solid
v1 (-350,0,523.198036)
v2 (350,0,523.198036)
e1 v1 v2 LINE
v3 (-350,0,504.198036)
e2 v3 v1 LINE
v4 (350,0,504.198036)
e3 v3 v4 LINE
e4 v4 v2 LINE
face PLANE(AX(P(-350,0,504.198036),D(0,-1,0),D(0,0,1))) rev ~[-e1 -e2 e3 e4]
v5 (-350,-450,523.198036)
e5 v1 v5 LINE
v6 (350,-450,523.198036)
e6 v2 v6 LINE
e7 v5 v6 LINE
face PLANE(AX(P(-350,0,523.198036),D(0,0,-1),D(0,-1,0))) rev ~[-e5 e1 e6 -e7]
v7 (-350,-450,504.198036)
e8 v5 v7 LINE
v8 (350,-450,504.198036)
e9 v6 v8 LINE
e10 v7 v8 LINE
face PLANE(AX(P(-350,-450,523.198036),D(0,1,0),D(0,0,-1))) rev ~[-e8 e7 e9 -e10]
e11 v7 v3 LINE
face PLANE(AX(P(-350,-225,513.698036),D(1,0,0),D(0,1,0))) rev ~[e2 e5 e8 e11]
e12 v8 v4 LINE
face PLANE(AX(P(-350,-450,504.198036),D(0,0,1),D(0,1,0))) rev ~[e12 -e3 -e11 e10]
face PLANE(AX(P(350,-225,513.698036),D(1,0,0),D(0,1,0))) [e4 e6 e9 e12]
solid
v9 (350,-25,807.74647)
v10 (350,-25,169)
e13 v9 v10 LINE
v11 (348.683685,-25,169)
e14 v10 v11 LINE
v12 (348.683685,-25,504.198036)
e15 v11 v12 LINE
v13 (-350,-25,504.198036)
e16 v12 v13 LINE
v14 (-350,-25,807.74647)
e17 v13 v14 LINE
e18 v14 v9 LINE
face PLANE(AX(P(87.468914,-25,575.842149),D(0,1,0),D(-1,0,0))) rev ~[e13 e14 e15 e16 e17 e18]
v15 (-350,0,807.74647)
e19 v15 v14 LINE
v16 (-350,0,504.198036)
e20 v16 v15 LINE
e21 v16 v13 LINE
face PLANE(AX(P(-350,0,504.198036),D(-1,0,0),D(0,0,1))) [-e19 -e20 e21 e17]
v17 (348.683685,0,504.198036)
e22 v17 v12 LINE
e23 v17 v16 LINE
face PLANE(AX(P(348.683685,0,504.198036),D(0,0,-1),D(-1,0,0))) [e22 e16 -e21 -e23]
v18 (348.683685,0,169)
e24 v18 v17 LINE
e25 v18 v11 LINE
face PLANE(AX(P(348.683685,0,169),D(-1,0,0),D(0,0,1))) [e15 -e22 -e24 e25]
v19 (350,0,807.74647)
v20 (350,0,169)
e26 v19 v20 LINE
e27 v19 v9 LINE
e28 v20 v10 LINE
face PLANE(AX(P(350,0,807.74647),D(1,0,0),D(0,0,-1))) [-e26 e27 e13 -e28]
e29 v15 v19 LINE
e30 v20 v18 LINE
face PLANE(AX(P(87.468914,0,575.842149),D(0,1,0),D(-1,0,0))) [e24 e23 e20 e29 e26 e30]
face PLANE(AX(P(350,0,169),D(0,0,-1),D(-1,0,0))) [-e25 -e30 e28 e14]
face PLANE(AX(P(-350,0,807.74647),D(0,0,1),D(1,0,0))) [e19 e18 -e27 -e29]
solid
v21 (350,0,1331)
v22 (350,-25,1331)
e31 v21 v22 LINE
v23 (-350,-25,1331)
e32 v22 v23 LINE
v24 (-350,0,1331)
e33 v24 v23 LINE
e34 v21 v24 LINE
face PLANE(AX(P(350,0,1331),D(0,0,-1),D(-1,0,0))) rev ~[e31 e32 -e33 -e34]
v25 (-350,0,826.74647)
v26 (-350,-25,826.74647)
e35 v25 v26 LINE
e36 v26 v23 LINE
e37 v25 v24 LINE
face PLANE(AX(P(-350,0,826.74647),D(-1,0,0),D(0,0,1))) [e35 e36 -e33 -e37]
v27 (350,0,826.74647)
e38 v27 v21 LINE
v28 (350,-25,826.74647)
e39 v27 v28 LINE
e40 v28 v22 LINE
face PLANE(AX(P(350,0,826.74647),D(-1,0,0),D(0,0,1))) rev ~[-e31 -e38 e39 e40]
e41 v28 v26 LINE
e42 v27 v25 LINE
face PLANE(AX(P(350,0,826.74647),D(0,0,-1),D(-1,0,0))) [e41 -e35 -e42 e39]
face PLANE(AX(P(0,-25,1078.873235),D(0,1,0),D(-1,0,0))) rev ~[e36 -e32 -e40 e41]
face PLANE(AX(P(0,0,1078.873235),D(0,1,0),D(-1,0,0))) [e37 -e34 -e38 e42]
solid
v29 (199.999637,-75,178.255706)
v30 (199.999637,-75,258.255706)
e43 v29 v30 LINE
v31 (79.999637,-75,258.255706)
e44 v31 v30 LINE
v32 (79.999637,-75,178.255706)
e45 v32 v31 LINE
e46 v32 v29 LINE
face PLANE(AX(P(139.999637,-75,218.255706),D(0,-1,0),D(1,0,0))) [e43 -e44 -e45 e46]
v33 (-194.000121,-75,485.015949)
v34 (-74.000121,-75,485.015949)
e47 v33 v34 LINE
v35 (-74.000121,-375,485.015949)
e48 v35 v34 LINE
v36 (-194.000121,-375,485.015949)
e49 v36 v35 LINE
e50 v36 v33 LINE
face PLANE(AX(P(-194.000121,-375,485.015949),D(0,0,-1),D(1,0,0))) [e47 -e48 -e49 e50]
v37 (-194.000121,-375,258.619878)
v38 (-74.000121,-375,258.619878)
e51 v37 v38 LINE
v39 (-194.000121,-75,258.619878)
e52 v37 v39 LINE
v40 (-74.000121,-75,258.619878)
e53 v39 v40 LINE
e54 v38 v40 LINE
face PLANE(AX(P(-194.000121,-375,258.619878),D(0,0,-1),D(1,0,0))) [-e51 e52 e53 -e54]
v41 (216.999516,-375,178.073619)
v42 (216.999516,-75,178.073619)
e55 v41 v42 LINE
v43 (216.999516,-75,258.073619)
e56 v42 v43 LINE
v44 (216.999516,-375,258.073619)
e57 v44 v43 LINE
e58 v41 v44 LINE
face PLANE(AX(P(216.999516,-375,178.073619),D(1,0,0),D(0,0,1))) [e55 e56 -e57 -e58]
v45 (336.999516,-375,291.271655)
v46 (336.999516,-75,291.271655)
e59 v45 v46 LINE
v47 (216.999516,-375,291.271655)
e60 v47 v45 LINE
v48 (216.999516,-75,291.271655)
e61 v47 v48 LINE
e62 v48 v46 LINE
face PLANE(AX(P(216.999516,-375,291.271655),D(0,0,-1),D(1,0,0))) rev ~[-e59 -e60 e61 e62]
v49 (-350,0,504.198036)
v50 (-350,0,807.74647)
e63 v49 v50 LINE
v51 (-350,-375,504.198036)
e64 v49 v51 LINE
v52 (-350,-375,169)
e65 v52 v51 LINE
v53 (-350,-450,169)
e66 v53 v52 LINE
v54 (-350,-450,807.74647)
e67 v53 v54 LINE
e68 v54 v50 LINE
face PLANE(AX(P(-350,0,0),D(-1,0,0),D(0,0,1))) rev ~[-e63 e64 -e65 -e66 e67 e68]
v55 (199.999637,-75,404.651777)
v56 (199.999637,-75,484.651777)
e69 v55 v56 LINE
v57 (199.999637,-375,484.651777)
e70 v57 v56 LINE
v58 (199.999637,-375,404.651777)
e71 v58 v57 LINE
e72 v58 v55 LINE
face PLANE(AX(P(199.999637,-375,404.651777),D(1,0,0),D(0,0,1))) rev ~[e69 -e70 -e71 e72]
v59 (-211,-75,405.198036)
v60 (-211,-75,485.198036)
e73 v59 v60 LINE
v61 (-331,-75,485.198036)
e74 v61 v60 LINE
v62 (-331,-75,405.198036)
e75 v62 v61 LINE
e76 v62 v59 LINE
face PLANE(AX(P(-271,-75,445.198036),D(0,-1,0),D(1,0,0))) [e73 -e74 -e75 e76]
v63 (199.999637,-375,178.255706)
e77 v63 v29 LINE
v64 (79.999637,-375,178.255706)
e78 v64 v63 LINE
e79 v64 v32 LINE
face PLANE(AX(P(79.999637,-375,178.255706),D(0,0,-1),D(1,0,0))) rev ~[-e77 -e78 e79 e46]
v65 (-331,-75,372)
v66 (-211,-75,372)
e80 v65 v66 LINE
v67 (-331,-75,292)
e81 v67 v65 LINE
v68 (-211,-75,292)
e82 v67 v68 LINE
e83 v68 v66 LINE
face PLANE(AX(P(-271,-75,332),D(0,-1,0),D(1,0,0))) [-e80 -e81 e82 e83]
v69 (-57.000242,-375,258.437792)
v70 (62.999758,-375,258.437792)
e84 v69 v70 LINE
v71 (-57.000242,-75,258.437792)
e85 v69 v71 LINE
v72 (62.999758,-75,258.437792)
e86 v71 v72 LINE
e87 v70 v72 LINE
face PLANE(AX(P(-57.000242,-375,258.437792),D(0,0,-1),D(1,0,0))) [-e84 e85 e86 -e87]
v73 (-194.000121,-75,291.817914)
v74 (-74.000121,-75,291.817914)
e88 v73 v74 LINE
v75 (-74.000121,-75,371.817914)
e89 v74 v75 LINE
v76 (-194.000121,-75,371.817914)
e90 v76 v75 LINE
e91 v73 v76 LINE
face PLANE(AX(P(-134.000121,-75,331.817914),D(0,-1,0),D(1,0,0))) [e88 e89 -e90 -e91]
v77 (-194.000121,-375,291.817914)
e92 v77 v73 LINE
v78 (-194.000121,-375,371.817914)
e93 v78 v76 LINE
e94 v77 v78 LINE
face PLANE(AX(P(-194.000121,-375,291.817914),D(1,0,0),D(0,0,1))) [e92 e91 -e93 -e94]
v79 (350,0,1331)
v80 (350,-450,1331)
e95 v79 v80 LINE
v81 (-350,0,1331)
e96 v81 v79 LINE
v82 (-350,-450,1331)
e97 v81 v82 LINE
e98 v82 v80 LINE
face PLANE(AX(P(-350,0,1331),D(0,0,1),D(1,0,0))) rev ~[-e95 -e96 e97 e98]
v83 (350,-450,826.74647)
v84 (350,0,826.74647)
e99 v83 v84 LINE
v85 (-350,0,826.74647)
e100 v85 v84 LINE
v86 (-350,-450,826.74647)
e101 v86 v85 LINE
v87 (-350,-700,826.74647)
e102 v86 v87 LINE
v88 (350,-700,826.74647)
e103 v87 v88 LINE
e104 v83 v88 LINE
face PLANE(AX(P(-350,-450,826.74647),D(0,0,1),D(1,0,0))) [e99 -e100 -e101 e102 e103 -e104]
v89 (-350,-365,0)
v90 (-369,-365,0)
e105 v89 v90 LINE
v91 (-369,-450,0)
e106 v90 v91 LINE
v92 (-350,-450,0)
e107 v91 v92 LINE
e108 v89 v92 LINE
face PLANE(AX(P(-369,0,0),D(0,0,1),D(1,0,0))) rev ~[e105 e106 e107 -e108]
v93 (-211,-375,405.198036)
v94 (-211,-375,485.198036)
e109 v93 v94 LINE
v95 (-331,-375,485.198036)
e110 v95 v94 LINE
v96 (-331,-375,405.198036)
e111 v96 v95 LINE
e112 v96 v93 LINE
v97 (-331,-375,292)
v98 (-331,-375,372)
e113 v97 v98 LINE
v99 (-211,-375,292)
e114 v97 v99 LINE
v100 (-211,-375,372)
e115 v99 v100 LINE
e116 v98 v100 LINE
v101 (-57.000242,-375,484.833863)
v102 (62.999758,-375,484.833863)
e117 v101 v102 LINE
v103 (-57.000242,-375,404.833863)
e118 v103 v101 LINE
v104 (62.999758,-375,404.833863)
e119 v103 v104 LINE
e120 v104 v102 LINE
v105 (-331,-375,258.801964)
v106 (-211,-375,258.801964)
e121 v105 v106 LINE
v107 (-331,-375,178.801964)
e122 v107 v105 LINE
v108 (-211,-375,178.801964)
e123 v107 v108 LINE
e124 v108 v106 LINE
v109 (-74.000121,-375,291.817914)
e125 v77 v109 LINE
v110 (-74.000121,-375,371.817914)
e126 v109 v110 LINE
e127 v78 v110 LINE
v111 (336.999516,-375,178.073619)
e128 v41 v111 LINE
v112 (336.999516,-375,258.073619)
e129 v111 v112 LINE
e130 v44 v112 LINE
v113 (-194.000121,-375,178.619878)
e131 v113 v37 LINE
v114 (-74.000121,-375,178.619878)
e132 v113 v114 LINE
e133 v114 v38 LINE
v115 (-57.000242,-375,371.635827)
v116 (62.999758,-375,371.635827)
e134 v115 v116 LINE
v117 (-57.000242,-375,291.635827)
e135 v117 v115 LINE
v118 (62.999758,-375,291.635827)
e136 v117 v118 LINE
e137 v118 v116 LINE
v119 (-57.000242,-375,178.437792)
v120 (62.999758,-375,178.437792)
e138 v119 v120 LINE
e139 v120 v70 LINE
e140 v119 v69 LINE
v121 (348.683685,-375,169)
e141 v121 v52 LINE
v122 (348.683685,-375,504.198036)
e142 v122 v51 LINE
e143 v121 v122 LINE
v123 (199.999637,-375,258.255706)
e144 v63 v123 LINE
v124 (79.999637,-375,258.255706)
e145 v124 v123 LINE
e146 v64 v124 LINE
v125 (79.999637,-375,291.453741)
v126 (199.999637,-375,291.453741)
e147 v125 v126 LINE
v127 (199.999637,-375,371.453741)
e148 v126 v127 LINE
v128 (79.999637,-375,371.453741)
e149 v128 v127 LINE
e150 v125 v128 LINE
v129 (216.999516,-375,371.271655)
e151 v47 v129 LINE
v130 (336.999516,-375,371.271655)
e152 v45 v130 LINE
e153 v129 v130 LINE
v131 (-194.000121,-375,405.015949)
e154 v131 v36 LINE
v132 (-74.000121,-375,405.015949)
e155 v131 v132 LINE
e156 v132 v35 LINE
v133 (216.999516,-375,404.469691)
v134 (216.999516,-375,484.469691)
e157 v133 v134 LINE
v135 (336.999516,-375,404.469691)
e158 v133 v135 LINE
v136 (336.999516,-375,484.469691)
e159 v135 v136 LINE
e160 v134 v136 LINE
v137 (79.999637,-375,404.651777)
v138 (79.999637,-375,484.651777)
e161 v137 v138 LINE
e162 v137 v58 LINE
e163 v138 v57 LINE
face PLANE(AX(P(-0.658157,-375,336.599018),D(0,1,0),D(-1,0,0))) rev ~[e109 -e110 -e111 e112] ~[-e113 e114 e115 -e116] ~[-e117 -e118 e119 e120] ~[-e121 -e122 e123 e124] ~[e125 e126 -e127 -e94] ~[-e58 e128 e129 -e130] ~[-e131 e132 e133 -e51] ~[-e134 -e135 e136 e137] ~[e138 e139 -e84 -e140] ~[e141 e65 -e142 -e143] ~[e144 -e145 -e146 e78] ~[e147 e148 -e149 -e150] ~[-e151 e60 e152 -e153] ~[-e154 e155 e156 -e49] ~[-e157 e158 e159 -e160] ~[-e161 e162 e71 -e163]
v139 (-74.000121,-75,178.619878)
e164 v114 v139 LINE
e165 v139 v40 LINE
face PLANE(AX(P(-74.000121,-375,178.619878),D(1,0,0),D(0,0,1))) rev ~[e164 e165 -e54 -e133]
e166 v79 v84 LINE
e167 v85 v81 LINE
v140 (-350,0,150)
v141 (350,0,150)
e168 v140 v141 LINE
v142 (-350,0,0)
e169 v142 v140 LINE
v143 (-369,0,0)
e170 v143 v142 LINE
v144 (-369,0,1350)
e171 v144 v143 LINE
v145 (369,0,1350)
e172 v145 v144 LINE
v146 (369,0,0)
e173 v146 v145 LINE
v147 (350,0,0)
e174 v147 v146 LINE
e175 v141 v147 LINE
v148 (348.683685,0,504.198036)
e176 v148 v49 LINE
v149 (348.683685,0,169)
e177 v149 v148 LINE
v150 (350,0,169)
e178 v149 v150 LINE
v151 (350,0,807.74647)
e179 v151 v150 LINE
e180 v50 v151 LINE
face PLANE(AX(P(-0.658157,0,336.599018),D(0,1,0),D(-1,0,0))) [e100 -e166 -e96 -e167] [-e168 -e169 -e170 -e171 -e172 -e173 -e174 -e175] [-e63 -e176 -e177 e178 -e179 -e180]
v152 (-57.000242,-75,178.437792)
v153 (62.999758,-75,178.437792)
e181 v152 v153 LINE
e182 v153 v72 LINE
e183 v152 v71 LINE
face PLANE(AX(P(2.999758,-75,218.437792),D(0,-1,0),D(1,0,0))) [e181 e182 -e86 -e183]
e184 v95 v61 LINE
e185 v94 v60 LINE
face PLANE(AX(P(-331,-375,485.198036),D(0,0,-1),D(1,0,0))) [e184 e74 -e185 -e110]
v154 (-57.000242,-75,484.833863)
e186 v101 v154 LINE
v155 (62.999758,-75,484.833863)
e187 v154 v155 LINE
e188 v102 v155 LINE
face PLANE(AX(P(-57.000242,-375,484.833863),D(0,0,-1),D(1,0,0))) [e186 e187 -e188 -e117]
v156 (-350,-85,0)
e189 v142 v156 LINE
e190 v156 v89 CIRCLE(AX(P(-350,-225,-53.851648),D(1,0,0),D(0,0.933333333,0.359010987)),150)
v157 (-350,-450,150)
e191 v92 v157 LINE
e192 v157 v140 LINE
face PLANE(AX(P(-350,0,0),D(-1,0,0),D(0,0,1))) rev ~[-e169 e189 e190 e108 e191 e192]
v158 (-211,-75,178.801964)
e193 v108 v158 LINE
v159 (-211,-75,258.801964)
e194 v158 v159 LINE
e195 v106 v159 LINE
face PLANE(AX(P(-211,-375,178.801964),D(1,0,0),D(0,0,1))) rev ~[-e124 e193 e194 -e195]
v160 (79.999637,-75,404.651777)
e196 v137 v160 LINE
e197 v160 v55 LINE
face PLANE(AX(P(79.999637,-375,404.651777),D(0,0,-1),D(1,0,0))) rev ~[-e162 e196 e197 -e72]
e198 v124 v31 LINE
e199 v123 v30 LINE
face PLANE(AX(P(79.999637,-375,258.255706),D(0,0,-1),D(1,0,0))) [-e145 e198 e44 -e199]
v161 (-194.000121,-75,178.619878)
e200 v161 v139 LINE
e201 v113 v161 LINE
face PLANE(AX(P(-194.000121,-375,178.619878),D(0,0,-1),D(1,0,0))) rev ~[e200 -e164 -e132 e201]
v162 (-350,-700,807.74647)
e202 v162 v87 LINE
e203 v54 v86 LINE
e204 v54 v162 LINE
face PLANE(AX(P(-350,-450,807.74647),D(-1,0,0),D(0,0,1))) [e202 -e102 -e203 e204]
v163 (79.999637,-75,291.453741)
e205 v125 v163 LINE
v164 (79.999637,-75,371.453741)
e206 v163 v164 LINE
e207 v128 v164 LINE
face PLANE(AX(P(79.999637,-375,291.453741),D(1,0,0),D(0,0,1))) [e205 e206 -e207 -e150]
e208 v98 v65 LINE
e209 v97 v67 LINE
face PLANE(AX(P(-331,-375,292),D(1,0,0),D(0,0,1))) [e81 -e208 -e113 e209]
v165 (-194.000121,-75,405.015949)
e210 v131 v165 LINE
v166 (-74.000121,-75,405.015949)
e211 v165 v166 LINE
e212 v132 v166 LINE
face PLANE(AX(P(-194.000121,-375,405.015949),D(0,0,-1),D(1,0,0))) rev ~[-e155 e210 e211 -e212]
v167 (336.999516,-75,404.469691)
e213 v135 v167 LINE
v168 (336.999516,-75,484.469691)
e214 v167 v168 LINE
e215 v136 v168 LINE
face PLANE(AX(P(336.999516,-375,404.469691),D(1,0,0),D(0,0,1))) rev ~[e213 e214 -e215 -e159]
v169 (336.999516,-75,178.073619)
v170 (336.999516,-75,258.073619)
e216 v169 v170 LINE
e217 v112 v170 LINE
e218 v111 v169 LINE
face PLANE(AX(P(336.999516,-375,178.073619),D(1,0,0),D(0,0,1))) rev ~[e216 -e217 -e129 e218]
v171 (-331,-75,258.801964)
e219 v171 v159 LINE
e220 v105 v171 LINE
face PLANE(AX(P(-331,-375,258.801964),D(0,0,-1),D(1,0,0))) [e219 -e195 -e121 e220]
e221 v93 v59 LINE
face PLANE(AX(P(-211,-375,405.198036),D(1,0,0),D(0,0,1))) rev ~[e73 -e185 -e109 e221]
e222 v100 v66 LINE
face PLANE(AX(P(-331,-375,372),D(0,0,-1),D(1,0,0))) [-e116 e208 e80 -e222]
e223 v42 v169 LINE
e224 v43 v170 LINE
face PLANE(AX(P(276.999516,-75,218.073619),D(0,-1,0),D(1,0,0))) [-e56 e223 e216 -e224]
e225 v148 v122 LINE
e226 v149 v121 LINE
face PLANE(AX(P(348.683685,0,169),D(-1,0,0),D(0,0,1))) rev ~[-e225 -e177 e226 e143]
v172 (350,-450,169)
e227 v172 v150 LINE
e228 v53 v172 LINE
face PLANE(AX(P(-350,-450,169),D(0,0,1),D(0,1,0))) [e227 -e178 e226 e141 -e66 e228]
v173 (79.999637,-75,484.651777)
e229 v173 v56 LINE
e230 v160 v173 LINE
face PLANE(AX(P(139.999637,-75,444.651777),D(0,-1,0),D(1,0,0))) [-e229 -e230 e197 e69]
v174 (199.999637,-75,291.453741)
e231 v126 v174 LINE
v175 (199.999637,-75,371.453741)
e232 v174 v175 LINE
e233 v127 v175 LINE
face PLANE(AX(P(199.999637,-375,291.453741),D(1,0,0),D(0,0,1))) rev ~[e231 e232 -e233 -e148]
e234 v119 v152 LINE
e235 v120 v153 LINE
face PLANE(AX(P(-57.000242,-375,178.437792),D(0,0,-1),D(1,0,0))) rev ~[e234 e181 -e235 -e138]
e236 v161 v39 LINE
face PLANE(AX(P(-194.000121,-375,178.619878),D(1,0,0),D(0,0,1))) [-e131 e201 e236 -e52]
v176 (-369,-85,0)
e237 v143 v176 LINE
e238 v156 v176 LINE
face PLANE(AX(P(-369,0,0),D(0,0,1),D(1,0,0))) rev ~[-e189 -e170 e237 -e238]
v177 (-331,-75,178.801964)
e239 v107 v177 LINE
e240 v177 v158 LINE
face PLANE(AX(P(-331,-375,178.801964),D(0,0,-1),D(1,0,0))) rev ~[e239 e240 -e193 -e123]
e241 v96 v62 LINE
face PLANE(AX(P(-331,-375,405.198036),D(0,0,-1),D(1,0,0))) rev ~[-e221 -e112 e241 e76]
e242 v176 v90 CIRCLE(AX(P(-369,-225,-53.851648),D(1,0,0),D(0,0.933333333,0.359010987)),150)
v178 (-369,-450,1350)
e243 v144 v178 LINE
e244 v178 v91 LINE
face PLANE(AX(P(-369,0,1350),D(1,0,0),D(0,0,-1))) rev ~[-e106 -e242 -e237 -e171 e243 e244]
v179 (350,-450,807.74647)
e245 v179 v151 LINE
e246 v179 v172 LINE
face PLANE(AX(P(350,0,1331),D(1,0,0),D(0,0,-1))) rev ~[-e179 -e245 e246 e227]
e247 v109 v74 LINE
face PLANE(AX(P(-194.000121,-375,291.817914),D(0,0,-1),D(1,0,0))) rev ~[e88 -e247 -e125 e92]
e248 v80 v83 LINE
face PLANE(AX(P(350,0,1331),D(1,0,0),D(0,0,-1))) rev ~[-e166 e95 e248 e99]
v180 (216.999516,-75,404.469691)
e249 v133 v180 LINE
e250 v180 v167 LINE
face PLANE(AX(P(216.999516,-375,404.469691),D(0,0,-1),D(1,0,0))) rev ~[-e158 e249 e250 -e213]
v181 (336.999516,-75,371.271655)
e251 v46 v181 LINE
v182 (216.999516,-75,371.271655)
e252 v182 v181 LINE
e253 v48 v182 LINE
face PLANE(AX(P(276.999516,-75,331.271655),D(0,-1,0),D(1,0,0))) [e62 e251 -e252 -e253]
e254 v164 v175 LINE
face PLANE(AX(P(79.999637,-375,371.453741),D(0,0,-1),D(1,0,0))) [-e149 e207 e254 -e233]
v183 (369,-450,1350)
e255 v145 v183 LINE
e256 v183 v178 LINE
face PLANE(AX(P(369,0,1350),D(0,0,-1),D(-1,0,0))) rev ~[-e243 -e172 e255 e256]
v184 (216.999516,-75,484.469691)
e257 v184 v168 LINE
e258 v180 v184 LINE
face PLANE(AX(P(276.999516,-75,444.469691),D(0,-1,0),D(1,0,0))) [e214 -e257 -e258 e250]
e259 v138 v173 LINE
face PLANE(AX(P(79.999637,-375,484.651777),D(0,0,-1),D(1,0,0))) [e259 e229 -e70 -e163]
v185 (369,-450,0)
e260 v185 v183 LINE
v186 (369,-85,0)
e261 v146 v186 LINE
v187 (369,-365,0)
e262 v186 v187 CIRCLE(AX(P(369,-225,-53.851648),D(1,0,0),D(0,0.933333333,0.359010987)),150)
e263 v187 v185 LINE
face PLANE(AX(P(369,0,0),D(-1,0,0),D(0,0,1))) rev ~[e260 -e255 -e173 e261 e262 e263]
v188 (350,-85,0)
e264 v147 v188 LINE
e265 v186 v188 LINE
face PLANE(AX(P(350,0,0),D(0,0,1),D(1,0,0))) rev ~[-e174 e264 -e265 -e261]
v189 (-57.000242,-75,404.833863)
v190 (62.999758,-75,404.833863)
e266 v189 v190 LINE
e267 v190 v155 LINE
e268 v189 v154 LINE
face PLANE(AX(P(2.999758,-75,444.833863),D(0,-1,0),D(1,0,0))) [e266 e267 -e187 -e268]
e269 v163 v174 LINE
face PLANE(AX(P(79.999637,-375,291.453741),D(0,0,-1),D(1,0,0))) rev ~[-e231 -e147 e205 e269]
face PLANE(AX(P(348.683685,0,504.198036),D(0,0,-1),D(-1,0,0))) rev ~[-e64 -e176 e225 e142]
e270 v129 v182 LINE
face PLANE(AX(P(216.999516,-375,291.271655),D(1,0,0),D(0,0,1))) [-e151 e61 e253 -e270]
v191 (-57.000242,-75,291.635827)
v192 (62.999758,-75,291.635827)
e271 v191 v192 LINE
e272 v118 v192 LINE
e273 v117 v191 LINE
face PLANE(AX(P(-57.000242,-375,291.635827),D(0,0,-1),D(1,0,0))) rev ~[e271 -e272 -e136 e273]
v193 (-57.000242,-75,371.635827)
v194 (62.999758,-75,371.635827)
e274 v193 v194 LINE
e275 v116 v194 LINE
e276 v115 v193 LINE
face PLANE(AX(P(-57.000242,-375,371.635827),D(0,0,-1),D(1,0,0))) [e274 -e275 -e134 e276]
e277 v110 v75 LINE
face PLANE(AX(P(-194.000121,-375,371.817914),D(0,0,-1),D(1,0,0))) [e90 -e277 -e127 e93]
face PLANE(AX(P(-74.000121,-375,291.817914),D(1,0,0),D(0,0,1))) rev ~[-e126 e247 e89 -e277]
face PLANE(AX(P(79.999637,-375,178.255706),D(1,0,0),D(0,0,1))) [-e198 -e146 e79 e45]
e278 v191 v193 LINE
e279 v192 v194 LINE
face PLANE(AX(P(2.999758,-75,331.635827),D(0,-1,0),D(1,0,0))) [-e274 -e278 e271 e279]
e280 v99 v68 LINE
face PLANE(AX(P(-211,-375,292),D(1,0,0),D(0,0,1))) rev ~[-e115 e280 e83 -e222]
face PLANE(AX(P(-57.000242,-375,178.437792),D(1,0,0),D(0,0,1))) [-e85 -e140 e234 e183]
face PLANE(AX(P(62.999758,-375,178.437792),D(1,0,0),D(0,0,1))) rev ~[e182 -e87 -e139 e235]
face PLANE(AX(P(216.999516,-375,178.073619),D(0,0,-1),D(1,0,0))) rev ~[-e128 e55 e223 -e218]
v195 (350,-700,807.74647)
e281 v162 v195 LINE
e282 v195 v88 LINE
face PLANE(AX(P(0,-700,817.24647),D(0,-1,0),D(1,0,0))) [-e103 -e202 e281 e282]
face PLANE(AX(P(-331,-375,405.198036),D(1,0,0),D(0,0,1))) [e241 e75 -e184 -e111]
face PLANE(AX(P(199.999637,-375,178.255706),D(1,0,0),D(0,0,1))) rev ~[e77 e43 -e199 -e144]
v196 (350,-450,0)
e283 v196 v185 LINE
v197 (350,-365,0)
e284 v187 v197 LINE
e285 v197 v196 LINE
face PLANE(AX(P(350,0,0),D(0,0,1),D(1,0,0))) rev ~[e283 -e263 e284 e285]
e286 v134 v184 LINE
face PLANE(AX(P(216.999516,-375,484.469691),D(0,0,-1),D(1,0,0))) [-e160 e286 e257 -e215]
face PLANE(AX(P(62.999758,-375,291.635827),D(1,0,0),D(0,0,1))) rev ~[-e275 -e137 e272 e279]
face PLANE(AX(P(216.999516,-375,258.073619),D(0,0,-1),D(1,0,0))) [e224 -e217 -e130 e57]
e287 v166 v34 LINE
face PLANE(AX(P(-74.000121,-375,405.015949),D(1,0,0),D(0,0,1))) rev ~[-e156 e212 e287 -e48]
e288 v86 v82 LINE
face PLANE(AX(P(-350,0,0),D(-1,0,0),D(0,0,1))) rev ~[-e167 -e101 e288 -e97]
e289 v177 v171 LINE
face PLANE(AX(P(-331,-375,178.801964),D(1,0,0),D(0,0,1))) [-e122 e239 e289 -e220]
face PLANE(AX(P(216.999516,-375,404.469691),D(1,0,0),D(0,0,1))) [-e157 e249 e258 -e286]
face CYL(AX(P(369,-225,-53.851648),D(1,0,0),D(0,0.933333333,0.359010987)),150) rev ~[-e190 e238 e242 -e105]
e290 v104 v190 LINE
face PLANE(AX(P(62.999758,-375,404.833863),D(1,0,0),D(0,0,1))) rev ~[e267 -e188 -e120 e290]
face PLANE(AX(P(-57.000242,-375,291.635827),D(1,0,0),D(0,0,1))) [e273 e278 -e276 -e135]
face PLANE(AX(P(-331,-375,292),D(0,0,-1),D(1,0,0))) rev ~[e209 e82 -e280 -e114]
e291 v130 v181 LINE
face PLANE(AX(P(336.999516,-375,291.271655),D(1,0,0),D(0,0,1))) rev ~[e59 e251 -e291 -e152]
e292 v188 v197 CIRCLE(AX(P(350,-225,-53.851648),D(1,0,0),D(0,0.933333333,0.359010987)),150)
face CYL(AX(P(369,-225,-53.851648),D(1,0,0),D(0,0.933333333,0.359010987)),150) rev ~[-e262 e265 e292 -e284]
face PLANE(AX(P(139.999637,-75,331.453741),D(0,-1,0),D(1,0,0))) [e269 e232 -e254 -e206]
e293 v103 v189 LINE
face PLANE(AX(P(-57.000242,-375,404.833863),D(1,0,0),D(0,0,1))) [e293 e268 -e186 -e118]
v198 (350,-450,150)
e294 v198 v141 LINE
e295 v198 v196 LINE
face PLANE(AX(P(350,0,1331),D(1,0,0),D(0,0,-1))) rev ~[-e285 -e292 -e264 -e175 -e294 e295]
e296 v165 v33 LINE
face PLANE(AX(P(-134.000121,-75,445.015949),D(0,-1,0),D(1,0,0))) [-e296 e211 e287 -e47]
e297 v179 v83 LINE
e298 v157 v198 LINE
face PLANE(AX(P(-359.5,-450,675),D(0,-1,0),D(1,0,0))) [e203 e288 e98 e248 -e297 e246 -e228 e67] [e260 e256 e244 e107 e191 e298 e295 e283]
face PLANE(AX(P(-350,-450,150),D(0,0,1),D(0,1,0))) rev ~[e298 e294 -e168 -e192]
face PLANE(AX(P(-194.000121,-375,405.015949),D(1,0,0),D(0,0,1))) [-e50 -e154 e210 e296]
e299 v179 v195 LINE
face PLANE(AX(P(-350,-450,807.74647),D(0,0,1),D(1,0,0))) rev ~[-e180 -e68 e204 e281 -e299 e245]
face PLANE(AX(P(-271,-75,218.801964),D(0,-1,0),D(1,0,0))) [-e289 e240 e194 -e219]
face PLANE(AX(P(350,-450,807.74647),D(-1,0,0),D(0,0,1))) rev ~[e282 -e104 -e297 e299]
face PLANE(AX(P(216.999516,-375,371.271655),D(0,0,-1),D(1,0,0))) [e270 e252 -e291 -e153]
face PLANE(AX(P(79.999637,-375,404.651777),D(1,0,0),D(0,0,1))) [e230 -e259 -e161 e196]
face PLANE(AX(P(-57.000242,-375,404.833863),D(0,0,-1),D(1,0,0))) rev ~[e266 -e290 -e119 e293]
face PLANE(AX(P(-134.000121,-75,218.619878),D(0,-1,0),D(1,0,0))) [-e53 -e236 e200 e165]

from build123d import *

# Parameters (mm, degrees)
F0_W      = 700
F0_H      = 19
F1_DEPTH  = 450
F2_W      = 450
F2_H      = 19
F3_DEPTH  = 700
F4_W      = 698.6836850643
F4_H      = 335.1980355978
F5_DEPTH  = 375
F6_W      = 120
F6_H      = 80
F7_DEPTH  = 300
F9_DEPTH  = 738.001
F10_W     = 700
F10_H     = 504.2535300255
F11_DEPTH = 25
F13_DEPTH = 25
F15_DEPTH = 700
F16_W     = 700
F16_H     = 19
F17_DEPTH = 250


with BuildPart() as f1:
    # F0 (on Front) → F1 (new body)
    with BuildSketch(Plane.XZ):
        Polygon((-369, 1350), (-369, 0), (-350, 0), (-350, 1331), (-350, 1350), align=None)
        with Locations((0, 1340.5)):
            Rectangle(F0_W, F0_H)
        Polygon((350, 1350), (350, 1331), (350, 0), (369, 0), (369, 1350), align=None)
    extrude(amount=F1_DEPTH)

    # F2 (on face) → F3 (join, through all)
    with BuildSketch(Plane.YZ.offset(-350)):
        with Locations((-225, 817.2464699745)):
            Rectangle(F2_W, F2_H)
        with Locations((-225, 159.5)):
            Rectangle(F2_W, F2_H)
    extrude(amount=F3_DEPTH)

    # F4 (on face) → F5 (join)
    with BuildSketch(Plane(origin=(0, 0, 0), x_dir=(-1, 0, 0), z_dir=(0, 1, 0))):
        with Locations((0.6581574678, 336.5990177989)):
            Rectangle(F4_W, F4_H)
    extrude(amount=-F5_DEPTH)

    # F6 (on face) → F7 (cut)
    with BuildSketch(Plane.XZ.offset(375)):
        with Locations((-271, 445.1980355978)):
            Rectangle(F6_W, F6_H)
        with Locations((-134.0001210052, 445.0159493365)):
            Rectangle(F6_W, F6_H)
        with Locations((2.9997579896, 444.8338630752)):
            Rectangle(F6_W, F6_H)
        with Locations((139.9996369844, 444.6517768139)):
            Rectangle(F6_W, F6_H)
        with Locations((276.9995159793, 444.4696905526)):
            Rectangle(F6_W, F6_H)
        with Locations((-271, 332)):
            Rectangle(F6_W, F6_H)
        with Locations((-134.0001210052, 331.8179137387)):
            Rectangle(F6_W, F6_H)
        with Locations((2.9997579896, 331.6358274774)):
            Rectangle(F6_W, F6_H)
        with Locations((139.9996369844, 331.4537412161)):
            Rectangle(F6_W, F6_H)
        with Locations((276.9995159793, 331.2716549548)):
            Rectangle(F6_W, F6_H)
        with Locations((-271, 218.8019644022)):
            Rectangle(F6_W, F6_H)
        with Locations((-134.0001210052, 218.6198781409)):
            Rectangle(F6_W, F6_H)
        with Locations((2.9997579896, 218.4377918796)):
            Rectangle(F6_W, F6_H)
        with Locations((139.9996369844, 218.2557056183)):
            Rectangle(F6_W, F6_H)
        with Locations((276.9995159793, 218.073619357)):
            Rectangle(F6_W, F6_H)
    extrude(amount=-F7_DEPTH, mode=Mode.SUBTRACT)

    # F8 (on face) → F9 (cut, through all)
    with BuildSketch(Plane.YZ.offset(369)):
        with BuildLine():
            Line((-365, 0), (-85, 0))
            ThreePointArc((-85, 0), (-225, 96.1483519287), (-365, 0))
        make_face()
    extrude(amount=-F9_DEPTH, mode=Mode.SUBTRACT)

    # F16 (on face) → F17 (join)
    with BuildSketch(Plane.XZ.offset(450)):
        with Locations((0, 817.2464699745)):
            Rectangle(F16_W, F16_H)
    extrude(amount=F17_DEPTH)


with BuildPart() as f11:
    # F10 (on face) → F11 (new body)
    with BuildSketch(Plane(origin=(0, 0, 0), x_dir=(-1, 0, 0), z_dir=(0, 1, 0))):
        with Locations((0, 1078.8732349873)):
            Rectangle(F10_W, F10_H)
    extrude(amount=-F11_DEPTH)


with BuildPart() as f13:
    # F12 (on face) → F13 (new body)
    with BuildSketch(Plane(origin=(0, 0, 0), x_dir=(-1, 0, 0), z_dir=(0, 1, 0))):
        Polygon((350, 504.1980355978), (350, 807.7464699745), (-350, 807.7464699745), (-350, 169), (-348.6836850643, 169), (-348.6836850643, 504.1980355978), align=None)
    extrude(amount=-F13_DEPTH)


with BuildPart() as f15:
    # F14 (on face) → F15 (new body, through all)
    with BuildSketch(Plane.YZ.offset(-350)):
        Polygon((0, 504.1980355978), (0, 523.1980355978), (-450, 523.1980355978), (-450, 504.1980355978), (-375, 504.1980355978), align=None)
    extrude(amount=F15_DEPTH)


solid = Compound([f1.part, f11.part, f13.part, f15.part])
